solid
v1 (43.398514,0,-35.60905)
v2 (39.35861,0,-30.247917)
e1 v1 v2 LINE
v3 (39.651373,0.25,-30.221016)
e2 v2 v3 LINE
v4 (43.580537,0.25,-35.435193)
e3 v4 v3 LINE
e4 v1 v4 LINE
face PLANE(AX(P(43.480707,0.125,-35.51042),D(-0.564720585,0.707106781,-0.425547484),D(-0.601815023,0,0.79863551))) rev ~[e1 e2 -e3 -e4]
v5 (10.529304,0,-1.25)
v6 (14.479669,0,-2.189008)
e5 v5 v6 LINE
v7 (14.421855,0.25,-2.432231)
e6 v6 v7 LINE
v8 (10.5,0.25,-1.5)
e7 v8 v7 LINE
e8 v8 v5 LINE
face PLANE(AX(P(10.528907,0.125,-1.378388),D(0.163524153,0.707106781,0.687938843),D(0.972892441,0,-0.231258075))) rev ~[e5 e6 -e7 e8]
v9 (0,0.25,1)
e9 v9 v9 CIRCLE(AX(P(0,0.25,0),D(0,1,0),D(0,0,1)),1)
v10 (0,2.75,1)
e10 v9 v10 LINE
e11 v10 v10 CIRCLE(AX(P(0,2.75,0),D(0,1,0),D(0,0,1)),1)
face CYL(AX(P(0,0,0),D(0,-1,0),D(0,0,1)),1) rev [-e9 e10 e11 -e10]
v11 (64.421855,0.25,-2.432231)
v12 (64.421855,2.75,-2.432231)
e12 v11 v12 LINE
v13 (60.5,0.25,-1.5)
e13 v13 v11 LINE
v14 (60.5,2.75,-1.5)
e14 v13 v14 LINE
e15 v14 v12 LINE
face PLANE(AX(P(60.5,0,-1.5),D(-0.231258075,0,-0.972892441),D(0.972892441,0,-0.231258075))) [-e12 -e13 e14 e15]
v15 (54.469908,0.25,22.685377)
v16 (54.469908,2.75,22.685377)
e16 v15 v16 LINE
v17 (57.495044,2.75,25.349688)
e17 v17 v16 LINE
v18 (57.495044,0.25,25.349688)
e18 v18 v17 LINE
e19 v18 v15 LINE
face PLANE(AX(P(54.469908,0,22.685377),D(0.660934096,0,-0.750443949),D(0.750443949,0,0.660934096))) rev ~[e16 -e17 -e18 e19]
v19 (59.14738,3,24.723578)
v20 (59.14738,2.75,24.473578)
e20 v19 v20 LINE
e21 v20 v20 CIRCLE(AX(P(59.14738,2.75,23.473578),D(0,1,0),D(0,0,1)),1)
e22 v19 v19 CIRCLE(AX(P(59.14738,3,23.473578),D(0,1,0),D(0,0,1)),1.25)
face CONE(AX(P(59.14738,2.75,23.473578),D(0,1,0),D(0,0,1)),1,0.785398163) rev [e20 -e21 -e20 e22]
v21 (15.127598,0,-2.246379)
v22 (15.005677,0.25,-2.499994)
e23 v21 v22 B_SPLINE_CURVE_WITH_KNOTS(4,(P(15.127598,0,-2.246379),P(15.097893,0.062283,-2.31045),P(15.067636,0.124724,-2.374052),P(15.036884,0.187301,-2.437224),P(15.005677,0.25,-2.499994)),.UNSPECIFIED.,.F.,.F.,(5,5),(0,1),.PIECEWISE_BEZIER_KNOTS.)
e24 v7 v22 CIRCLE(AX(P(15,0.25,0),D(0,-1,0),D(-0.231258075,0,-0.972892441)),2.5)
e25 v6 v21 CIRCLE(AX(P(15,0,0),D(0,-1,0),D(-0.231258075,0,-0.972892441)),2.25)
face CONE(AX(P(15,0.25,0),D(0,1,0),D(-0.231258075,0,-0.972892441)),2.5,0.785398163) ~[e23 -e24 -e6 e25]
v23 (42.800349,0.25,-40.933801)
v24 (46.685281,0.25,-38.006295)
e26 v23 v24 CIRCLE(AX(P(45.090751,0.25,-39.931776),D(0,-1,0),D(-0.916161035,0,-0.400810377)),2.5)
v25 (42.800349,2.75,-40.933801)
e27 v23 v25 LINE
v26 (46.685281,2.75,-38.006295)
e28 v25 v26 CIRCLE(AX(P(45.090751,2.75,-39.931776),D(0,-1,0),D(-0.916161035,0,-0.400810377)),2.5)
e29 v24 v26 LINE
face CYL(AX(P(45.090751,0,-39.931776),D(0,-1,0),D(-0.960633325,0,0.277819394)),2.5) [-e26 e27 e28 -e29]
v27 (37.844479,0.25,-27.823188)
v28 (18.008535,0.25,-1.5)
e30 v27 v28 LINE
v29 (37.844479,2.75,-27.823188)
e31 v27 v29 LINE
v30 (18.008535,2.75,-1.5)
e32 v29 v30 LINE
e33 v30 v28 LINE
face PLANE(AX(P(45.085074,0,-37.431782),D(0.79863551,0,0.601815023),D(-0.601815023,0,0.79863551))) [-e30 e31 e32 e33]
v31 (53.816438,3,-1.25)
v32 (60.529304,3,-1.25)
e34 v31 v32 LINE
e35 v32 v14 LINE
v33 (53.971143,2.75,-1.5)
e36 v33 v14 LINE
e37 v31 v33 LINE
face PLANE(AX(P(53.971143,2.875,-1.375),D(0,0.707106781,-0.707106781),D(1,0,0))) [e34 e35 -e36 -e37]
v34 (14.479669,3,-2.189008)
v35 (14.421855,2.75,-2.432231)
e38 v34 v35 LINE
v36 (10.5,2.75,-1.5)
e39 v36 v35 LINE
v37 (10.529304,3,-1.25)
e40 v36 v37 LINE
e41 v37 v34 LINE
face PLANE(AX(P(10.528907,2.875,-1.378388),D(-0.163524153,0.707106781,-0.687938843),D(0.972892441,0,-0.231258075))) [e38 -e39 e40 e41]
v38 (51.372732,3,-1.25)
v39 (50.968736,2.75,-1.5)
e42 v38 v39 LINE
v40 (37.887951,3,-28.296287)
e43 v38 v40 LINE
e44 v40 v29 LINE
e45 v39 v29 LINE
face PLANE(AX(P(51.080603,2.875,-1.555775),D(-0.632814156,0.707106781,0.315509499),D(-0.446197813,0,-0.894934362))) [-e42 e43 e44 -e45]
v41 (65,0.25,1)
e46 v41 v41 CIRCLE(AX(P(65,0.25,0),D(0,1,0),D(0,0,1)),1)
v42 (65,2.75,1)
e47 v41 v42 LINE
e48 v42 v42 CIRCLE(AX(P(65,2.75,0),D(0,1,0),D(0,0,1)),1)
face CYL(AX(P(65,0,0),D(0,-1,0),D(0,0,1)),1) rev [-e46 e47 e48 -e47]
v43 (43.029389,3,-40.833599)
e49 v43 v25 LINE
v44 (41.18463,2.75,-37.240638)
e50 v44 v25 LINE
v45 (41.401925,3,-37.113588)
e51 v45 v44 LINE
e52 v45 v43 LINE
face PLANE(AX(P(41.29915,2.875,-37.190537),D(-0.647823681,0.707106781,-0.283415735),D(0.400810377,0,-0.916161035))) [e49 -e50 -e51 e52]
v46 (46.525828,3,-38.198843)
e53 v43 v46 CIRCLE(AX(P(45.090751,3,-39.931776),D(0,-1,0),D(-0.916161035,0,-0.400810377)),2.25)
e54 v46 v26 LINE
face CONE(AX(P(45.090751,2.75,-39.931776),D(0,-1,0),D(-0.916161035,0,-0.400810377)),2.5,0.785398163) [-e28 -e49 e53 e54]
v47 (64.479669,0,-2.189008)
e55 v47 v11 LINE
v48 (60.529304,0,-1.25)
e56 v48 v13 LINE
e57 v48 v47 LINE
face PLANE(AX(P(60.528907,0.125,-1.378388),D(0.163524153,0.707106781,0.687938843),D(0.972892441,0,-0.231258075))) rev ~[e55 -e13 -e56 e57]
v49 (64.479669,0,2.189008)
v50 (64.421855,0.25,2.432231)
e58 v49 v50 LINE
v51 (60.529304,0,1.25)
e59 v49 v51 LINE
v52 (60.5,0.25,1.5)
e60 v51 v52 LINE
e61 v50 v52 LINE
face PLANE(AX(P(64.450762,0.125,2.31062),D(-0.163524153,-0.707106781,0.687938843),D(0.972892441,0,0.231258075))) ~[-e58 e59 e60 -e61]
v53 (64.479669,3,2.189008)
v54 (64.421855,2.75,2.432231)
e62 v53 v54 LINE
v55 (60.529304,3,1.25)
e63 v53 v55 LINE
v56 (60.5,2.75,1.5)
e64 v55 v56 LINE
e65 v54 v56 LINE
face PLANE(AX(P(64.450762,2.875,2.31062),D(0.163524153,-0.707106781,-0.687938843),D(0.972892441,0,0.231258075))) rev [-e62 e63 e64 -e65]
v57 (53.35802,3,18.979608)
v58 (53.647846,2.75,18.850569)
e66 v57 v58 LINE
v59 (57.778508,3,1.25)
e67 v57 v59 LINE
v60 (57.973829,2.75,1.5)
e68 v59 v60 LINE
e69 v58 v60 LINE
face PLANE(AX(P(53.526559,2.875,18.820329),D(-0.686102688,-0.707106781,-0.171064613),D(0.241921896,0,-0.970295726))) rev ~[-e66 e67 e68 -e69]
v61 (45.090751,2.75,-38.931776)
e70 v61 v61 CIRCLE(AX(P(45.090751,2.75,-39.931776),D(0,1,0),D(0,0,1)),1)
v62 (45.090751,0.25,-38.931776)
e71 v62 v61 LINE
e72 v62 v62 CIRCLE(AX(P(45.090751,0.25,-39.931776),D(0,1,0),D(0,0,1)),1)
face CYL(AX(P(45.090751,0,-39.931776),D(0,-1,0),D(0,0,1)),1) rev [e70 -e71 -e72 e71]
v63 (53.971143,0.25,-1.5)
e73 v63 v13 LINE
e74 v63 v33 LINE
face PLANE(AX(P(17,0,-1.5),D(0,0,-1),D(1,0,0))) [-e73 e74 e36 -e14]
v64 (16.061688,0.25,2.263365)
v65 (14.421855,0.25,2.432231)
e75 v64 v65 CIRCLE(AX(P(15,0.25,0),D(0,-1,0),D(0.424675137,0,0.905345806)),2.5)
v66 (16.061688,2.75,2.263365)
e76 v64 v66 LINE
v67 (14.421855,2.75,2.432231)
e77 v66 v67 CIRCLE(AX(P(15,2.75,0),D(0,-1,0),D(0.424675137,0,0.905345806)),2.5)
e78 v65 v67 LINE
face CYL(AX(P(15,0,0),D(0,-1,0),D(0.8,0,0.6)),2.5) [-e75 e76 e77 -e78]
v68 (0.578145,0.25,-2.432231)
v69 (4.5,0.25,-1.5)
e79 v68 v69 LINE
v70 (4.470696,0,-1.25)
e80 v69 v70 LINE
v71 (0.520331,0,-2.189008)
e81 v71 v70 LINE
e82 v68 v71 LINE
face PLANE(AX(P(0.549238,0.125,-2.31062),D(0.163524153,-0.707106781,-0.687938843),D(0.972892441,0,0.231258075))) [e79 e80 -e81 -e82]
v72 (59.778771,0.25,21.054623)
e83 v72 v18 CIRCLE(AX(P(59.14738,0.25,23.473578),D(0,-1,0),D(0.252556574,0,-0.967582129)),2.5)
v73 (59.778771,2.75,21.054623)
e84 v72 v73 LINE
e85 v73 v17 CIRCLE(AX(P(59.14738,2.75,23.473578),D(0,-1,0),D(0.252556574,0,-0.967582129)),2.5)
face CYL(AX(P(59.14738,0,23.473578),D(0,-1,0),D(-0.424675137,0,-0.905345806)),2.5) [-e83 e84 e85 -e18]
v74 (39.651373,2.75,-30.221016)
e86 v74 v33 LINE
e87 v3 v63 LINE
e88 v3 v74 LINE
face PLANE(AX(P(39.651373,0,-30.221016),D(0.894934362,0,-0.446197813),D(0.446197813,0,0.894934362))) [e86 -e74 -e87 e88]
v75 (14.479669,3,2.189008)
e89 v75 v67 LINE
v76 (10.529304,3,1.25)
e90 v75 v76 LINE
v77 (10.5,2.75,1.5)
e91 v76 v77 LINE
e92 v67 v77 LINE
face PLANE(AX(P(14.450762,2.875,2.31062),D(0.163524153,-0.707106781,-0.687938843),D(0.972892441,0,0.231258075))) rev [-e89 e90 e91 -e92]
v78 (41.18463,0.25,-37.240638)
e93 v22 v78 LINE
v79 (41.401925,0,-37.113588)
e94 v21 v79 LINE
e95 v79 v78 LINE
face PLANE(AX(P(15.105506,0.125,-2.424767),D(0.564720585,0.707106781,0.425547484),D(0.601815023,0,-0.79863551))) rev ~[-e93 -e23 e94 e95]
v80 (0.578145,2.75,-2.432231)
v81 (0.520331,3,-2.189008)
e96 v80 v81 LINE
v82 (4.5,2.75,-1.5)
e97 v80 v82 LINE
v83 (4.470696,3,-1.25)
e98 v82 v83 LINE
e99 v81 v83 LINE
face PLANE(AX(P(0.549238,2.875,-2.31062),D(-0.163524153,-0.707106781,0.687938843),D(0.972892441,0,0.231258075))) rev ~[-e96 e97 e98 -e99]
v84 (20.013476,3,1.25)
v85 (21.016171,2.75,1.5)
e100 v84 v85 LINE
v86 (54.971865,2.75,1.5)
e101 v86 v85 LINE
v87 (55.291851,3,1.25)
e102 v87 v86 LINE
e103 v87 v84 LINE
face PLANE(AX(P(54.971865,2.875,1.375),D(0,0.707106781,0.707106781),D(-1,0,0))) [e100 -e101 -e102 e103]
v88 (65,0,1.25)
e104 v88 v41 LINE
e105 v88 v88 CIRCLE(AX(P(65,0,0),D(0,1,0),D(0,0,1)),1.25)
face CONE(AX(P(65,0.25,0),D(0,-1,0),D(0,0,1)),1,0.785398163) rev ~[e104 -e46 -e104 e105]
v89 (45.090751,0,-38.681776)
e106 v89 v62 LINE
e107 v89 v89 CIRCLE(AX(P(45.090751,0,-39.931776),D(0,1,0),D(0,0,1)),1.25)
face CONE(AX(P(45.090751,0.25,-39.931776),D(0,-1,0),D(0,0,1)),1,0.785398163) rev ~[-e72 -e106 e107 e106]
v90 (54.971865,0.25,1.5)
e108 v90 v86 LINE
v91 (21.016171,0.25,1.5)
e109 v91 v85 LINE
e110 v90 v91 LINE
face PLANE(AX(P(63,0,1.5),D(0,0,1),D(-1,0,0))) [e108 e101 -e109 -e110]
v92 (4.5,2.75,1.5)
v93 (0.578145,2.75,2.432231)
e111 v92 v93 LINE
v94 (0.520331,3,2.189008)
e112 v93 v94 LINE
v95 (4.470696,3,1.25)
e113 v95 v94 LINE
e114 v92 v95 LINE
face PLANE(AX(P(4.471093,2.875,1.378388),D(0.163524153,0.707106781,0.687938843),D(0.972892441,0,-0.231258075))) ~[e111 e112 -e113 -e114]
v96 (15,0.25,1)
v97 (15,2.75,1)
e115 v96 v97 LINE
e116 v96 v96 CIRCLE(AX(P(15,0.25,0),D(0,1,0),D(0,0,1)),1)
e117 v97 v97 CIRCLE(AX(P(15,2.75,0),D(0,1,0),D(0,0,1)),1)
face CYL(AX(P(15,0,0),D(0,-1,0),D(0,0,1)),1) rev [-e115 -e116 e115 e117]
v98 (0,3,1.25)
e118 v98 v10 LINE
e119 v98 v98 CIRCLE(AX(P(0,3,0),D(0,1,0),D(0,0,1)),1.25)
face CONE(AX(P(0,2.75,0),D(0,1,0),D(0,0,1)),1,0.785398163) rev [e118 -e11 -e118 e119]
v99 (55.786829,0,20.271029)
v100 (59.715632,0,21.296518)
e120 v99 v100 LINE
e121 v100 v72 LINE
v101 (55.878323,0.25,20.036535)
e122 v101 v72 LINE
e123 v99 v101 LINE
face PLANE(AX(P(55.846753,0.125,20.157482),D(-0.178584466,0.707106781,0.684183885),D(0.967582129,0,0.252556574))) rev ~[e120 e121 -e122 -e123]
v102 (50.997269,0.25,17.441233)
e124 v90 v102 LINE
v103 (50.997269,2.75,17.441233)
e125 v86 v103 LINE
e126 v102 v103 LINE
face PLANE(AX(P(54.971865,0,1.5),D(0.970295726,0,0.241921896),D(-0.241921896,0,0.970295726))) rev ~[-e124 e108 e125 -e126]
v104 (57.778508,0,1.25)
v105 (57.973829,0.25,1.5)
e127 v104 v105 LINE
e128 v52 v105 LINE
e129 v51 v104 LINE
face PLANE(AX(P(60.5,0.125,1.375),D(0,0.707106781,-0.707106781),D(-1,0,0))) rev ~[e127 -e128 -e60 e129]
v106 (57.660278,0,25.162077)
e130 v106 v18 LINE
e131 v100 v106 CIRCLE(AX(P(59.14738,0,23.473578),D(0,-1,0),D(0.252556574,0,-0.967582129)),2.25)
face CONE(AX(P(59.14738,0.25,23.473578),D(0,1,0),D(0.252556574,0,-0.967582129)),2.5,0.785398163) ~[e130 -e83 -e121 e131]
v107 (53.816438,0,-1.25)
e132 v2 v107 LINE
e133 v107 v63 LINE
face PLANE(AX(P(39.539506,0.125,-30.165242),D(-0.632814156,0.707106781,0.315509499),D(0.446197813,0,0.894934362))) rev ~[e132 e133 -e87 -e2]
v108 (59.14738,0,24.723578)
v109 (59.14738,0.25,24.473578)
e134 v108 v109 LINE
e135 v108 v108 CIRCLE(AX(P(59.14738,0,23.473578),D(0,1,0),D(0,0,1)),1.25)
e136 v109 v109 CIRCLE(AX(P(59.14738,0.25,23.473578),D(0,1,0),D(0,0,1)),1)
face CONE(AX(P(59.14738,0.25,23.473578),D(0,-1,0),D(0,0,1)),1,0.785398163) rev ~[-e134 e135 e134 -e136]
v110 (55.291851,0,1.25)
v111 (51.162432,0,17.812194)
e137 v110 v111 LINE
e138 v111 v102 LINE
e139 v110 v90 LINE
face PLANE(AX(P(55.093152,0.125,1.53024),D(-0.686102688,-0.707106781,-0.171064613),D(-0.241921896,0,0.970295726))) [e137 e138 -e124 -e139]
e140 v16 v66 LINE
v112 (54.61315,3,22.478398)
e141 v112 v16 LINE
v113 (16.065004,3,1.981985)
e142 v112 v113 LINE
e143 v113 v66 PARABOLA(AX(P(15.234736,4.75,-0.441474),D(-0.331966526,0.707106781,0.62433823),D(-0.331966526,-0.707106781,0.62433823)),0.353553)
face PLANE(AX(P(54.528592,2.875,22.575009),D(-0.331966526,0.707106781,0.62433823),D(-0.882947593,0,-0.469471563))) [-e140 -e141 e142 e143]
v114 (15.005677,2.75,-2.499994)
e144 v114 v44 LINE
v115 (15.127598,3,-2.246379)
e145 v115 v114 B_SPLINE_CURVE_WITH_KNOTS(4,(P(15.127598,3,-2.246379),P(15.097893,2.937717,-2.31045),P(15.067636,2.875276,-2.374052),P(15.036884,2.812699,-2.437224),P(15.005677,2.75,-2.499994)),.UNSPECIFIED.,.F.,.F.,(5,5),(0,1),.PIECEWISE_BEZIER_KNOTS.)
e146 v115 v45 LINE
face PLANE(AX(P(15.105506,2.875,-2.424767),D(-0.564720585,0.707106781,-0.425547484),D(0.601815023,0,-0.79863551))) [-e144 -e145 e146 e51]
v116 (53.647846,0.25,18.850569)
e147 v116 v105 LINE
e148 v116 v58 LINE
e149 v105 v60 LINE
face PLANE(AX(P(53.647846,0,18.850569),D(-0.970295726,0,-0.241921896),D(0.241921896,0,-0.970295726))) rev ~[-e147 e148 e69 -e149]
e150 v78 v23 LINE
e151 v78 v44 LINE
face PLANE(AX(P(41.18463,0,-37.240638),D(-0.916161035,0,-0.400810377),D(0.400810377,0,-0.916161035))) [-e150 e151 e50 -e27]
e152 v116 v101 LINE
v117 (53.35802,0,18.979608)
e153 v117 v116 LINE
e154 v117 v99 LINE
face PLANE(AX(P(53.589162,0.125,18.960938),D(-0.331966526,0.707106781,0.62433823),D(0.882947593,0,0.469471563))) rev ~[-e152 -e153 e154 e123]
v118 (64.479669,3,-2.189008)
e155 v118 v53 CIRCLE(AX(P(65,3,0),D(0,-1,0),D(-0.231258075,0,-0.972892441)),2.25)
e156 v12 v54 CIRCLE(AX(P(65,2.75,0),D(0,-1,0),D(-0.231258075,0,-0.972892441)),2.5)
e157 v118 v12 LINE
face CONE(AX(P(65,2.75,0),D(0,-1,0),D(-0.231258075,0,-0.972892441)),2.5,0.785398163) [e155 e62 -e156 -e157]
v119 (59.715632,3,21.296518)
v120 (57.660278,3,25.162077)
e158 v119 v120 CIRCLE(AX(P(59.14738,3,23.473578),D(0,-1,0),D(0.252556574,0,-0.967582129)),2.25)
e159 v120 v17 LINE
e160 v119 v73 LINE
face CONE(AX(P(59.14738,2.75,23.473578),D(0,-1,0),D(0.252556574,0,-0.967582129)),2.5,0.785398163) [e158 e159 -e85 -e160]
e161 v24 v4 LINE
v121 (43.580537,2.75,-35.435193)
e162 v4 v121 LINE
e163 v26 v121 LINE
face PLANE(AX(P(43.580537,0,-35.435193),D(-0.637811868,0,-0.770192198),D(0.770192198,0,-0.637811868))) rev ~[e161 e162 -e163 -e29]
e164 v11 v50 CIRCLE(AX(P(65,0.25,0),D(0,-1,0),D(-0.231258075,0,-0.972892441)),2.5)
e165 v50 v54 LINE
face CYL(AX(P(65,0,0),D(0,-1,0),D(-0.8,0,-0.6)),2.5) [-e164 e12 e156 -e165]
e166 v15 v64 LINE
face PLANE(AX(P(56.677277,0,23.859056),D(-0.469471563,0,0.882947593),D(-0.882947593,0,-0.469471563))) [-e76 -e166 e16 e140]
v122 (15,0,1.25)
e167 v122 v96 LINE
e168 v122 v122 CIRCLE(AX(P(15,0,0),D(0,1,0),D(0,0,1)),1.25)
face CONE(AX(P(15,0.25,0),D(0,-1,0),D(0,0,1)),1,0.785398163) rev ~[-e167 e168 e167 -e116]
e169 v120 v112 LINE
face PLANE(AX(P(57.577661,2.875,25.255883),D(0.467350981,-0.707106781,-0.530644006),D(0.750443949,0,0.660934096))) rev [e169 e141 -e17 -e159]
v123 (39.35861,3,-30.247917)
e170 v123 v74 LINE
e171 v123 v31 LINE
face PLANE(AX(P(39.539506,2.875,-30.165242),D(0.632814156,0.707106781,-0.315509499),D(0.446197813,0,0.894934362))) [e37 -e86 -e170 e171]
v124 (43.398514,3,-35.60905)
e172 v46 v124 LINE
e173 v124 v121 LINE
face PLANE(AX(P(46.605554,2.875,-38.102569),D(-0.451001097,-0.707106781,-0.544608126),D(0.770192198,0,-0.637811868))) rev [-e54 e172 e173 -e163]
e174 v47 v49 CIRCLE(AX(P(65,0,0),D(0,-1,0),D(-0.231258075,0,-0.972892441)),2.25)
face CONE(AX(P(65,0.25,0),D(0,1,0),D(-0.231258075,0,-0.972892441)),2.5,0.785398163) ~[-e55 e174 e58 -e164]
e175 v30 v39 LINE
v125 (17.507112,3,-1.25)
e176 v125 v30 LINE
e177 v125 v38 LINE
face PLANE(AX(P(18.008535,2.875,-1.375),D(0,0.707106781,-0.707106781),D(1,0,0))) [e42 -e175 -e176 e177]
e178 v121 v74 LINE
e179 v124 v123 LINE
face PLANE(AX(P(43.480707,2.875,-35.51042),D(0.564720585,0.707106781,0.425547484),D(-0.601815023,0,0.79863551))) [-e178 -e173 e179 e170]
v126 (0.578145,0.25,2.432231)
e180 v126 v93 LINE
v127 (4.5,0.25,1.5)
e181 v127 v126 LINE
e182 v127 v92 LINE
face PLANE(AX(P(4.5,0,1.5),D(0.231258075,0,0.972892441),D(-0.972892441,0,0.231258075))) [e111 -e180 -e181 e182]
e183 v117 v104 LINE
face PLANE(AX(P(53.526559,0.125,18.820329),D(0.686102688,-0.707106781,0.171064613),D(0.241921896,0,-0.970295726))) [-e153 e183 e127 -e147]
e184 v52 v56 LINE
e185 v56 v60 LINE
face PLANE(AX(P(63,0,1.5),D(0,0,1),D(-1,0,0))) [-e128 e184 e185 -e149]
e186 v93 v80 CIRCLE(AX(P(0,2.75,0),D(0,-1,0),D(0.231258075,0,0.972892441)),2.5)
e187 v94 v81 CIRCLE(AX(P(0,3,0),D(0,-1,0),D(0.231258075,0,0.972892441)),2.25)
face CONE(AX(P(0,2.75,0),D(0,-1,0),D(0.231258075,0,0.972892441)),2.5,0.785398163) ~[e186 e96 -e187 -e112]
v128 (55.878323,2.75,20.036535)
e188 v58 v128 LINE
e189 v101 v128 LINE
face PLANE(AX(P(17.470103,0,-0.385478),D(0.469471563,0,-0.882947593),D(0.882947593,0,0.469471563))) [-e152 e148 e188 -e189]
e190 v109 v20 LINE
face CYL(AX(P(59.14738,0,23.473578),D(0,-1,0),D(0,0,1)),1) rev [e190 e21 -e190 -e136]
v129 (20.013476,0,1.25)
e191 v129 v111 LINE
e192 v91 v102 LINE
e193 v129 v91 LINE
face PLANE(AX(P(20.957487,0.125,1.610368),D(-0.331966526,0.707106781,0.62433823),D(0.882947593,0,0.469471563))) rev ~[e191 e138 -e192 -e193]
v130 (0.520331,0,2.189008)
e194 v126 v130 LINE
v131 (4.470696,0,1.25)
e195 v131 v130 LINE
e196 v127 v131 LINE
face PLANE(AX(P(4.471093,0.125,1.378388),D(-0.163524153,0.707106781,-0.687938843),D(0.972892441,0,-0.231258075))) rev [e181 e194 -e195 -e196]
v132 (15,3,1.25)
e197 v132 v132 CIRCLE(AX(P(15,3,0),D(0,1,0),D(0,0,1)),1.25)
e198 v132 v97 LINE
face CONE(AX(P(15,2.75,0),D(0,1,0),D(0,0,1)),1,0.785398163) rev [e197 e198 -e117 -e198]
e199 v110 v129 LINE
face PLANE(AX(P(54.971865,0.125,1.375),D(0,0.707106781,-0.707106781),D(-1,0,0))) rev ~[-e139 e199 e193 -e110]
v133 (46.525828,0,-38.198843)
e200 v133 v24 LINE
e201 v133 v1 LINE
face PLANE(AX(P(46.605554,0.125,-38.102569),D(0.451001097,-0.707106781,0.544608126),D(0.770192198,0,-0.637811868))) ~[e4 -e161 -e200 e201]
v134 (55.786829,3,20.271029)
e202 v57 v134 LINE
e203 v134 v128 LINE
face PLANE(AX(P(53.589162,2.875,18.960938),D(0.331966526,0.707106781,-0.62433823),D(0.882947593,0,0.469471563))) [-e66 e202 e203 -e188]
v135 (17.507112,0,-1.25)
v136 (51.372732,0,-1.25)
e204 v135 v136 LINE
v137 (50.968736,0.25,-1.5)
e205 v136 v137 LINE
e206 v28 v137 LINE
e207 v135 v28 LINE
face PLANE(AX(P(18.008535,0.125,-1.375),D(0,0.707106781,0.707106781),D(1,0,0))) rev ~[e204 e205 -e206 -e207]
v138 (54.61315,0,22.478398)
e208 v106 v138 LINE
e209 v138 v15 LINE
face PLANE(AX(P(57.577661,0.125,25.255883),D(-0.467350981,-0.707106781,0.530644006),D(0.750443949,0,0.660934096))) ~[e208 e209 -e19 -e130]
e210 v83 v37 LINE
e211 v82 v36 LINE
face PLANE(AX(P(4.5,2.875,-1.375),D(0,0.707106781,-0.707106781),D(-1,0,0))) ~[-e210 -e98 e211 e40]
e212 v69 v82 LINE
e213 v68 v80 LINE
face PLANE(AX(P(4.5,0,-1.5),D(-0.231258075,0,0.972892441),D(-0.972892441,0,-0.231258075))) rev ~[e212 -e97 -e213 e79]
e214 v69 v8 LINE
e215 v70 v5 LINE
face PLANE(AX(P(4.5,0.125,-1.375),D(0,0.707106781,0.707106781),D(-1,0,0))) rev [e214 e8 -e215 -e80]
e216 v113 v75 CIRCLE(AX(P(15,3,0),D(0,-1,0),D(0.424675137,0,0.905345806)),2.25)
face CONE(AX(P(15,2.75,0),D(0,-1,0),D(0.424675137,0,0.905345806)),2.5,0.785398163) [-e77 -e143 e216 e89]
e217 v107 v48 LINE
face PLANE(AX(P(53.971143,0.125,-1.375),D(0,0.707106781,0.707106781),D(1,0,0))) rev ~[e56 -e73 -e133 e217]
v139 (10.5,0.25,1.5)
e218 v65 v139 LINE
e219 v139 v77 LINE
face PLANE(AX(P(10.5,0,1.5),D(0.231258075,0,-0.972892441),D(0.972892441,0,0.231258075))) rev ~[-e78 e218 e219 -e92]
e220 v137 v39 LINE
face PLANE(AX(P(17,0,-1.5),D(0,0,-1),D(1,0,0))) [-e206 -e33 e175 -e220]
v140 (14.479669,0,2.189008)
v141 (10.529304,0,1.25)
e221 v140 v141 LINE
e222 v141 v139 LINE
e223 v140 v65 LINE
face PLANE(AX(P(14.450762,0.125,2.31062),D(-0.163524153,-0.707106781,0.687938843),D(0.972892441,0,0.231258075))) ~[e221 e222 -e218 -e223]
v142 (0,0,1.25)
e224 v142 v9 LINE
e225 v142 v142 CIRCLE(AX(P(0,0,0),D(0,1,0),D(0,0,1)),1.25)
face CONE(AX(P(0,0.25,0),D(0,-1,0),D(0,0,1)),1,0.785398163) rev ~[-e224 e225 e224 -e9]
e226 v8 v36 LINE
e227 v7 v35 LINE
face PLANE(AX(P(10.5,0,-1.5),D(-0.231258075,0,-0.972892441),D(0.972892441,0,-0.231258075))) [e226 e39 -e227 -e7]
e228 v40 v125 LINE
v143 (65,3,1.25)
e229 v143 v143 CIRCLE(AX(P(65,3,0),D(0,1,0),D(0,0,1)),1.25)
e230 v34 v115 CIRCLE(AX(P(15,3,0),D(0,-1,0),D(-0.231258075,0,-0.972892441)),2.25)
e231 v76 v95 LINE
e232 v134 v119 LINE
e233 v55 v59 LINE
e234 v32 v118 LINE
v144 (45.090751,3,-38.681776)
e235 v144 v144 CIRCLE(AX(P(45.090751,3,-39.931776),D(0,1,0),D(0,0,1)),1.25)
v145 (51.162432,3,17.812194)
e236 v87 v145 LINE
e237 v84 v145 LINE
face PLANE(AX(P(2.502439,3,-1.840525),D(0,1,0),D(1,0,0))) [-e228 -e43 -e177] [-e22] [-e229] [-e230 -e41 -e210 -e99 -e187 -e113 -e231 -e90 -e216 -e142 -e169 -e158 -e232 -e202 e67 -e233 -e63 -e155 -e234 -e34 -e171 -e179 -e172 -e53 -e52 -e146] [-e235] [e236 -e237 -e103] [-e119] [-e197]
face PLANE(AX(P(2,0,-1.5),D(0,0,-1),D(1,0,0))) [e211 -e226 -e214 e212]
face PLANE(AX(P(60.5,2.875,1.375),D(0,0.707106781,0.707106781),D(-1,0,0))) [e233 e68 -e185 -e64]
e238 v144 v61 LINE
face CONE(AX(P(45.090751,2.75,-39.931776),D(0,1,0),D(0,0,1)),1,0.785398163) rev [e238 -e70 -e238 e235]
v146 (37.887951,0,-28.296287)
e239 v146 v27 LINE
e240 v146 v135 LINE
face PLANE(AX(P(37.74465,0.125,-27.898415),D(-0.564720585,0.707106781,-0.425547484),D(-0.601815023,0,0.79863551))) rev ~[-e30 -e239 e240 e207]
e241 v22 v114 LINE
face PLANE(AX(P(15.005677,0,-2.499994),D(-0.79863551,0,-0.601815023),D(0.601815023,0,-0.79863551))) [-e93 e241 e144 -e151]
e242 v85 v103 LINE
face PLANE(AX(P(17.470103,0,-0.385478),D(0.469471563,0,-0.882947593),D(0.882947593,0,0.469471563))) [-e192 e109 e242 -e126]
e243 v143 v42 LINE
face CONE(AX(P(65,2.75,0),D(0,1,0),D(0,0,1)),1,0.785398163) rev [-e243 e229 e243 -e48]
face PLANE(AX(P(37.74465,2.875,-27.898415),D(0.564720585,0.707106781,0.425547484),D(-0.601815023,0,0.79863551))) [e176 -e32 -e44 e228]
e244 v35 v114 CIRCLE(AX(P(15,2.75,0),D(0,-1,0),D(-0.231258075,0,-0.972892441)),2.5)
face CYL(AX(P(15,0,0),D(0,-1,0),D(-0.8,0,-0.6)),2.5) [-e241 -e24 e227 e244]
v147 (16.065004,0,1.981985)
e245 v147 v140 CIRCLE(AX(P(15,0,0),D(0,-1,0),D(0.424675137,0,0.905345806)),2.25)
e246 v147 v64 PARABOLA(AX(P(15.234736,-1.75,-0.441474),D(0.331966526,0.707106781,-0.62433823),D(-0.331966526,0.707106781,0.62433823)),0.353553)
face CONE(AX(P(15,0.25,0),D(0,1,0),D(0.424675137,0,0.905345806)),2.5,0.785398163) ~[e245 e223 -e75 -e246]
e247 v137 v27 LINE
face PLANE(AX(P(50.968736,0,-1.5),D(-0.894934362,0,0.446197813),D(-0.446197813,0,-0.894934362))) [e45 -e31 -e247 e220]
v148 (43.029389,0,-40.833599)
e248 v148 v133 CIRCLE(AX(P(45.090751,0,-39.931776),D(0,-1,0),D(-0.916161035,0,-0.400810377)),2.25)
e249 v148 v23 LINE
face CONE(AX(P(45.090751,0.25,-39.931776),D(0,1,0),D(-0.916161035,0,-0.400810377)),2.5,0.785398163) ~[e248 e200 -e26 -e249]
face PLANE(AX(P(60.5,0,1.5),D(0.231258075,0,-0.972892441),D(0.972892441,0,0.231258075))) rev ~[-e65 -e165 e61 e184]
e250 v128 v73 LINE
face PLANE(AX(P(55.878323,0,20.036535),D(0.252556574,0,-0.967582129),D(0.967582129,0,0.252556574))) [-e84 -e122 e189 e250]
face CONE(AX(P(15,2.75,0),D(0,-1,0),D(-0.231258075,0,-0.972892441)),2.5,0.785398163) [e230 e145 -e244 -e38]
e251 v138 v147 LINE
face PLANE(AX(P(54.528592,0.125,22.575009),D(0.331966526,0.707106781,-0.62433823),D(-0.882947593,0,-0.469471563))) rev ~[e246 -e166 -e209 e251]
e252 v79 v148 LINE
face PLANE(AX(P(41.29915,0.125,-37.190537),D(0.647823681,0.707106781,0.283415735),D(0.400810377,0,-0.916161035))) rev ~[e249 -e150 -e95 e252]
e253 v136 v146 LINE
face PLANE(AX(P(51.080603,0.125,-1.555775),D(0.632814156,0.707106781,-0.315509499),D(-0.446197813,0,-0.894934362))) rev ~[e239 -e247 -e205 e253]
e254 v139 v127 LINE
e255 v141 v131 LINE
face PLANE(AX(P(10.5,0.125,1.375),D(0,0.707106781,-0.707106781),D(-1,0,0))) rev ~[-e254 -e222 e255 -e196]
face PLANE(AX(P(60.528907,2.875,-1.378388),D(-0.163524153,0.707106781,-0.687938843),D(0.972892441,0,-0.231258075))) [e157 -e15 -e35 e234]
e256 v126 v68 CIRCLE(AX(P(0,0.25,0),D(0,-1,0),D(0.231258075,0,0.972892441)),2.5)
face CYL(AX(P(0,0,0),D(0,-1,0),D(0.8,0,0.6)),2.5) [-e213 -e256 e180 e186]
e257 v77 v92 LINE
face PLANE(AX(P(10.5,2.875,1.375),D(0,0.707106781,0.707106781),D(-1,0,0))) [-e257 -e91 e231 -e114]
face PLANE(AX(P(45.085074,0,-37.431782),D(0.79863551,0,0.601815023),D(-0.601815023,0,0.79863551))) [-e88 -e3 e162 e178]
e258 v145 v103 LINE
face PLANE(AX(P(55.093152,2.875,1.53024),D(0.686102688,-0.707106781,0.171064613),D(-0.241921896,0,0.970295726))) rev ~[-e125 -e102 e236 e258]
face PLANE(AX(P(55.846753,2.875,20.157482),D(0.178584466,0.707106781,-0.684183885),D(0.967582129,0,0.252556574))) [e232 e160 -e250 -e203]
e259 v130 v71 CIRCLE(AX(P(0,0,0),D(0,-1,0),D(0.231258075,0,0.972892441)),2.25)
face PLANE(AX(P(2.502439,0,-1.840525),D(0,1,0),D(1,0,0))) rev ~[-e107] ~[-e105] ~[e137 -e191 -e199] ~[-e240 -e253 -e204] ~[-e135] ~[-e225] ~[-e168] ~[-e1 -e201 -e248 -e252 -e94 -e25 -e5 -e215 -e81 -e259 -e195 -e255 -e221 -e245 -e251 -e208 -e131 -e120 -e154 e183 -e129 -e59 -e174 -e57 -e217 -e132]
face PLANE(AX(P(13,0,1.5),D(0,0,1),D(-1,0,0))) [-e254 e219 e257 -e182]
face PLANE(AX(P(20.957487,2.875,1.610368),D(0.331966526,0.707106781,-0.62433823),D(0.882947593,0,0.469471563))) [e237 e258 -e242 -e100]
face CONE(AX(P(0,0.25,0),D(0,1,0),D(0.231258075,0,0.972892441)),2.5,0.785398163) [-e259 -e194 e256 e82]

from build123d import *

# Parameters (mm, degrees)
SKETCH_1_R      = 1
EXTRUDE_2_DEPTH = 3
SKETCH_3_R      = 1
EXTRUDE_3_DEPTH = 3
EXTRUDE_4_DEPTH = 3
EXTRUDE_5_DEPTH = 3
EXTRUDE_6_DEPTH = 3
CHAMFER_1_SIZE  = 0.25


with BuildPart() as part:
    # 草图1 → 凸台-拉伸2 (new body)
    with BuildSketch(Plane(origin=(0, 0, 0), x_dir=(1, 0, 0), z_dir=(0, 1, 0))):
        with BuildLine():
            Line((2, 1.5), (13, 1.5))
            ThreePointArc((13, 1.5), (15, 2.5), (17, 1.5))
            Line((17, 1.5), (63, 1.5))
            ThreePointArc((63, 1.5), (67.5, 0), (63, -1.5))
            Line((63, -1.5), (17, -1.5))
            ThreePointArc((17, -1.5), (15, -2.5), (13, -1.5))
            Line((13, -1.5), (2, -1.5))
            ThreePointArc((2, -1.5), (-2.5, 0), (2, 1.5))
        make_face()
        with Locations(Location((0, 0, 0), (0, 0, 270))):
            Circle(SKETCH_1_R, mode=Mode.SUBTRACT)
        with Locations(Location((15, 0, 0), (0, 0, 270))):
            Circle(SKETCH_1_R, mode=Mode.SUBTRACT)
        with Locations(Location((65, 0, 0), (0, 0, 270))):
            Circle(SKETCH_1_R, mode=Mode.SUBTRACT)
    extrude(amount=EXTRUDE_2_DEPTH)

    # 草图3 → 凸台-拉伸3 (add)
    with BuildSketch(Plane(origin=(0, 0, 0), x_dir=(1, 0, 0), z_dir=(0, 1, 0))):
        with BuildLine():
            Line((15.005676781, 2.499993555), (42.689167846, 39.237227017))
            ThreePointArc((42.689167846, 39.237227017), (46.595288715, 41.928364277), (45.085074376, 37.431781948))
            Line((45.085074376, 37.431781948), (17.401583311, 0.694548485))
            ThreePointArc((17.401583311, 0.694548485), (17.440740018, 0.541099035), (17.47010253, 0.385478264))
            Line((17.47010253, 0.385478264), (58.085691801, -21.210213624))
            ThreePointArc((58.085691801, -21.210213624), (61.354748625, -24.647257046), (56.677277113, -23.859056403))
            Line((56.677277113, -23.859056403), (16.061687842, -2.263364515))
            ThreePointArc((16.061687842, -2.263364515), (12.559259982, -0.541099035), (15.005676781, 2.499993555))
        make_face()
        with Locations(Location((59.147379643, -23.473578139, 0), (0, 0, 270))):
            Circle(SKETCH_3_R, mode=Mode.SUBTRACT)
        with Locations(Location((45.090751158, 39.931775502, 0), (0, 0, 270))):
            Circle(SKETCH_3_R, mode=Mode.SUBTRACT)
        with Locations(Location((15, 0, 0), (0, 0, 270))):
            Circle(SKETCH_3_R, mode=Mode.SUBTRACT)
    extrude(amount=EXTRUDE_3_DEPTH)

    # 草图5 → 凸台-拉伸4 (add)
    with BuildSketch(Plane(origin=(0, 0, 0), x_dir=(1, 0, 0), z_dir=(0, 1, 0))):
        Polygon((50.968736425, 1.5), (37.844479209, 27.823187626), (39.651372694, 30.221016268), (53.97114317, 1.5), align=None)
    extrude(amount=EXTRUDE_4_DEPTH)

    # 草图6 → 凸台-拉伸5 (add)
    with BuildSketch(Plane(origin=(0, 0, 0), x_dir=(1, 0, 0), z_dir=(0, 1, 0))):
        Polygon((54.971865105, -1.5), (50.997269421, -17.441232589), (53.647846432, -18.850569385), (57.973829245, -1.5), align=None)
    extrude(amount=EXTRUDE_5_DEPTH)

    # 草图7 → 凸台-拉伸6 (add)
    with BuildSketch(Plane(origin=(0, 0, 0), x_dir=(1, 0, 0), z_dir=(0, 1, 0))):
        with BuildLine():
            Line((4.5, 1.5), (0.578145188, 2.432231104))
            ThreePointArc((0.578145188, 2.432231104), (1.370755945, 2.090700395), (2, 1.5))
            Line((2, 1.5), (4.5, 1.5))
        make_face()
        with BuildLine():
            Line((4.5, -1.5), (0.578145188, -2.432231104))
            ThreePointArc((0.578145188, -2.432231104), (1.370755945, -2.090700395), (2, -1.5))
            Line((2, -1.5), (4.5, -1.5))
        make_face()
        with BuildLine():
            Line((10.5, 1.5), (14.421854812, 2.432231104))
            ThreePointArc((14.421854812, 2.432231104), (13.629244055, 2.090700395), (13, 1.5))
            Line((13, 1.5), (10.5, 1.5))
        make_face()
        with BuildLine():
            Line((10.5, -1.5), (14.421854812, -2.432231104))
            ThreePointArc((14.421854812, -2.432231104), (13.629244055, -2.090700395), (13, -1.5))
            Line((13, -1.5), (10.5, -1.5))
        make_face()
        with BuildLine():
            Line((41.184630288, 37.240638242), (42.80034857, 40.933801444))
            ThreePointArc((42.80034857, 40.933801444), (42.596102061, 40.095256036), (42.689167846, 39.237227017))
            Line((42.689167846, 39.237227017), (41.184630288, 37.240638242))
        make_face()
        with BuildLine():
            Line((43.580536818, 35.435193172), (46.685280826, 38.006295008))
            ThreePointArc((46.685280826, 38.006295008), (45.935517213, 37.578826223), (45.085074376, 37.431781948))
            Line((45.085074376, 37.431781948), (43.580536818, 35.435193172))
        make_face()
        with BuildLine():
            Line((60.5, -1.5), (64.421854812, -2.432231104))
            ThreePointArc((64.421854812, -2.432231104), (63.629244055, -2.090700395), (63, -1.5))
            Line((63, -1.5), (60.5, -1.5))
        make_face()
        with BuildLine():
            Line((60.5, 1.5), (64.421854812, 2.432231104))
            ThreePointArc((64.421854812, 2.432231104), (63.629244055, 2.090700395), (63, 1.5))
            Line((63, 1.5), (60.5, 1.5))
        make_face()
        with BuildLine():
            Line((55.878322819, -20.036534717), (59.778771079, -21.054622816))
            ThreePointArc((59.778771079, -21.054622816), (58.918598363, -20.984068323), (58.085691801, -21.210213624))
            Line((58.085691801, -21.210213624), (55.878322819, -20.036534717))
        make_face()
        with BuildLine():
            Line((54.469908131, -22.685377496), (57.495044404, -25.349688013))
            ThreePointArc((57.495044404, -25.349688013), (56.9555496, -24.676026085), (56.677277113, -23.859056403))
            Line((56.677277113, -23.859056403), (54.469908131, -22.685377496))
        make_face()
    extrude(amount=EXTRUDE_6_DEPTH)

    # 倒角1
    chamfer_1_edges = [part.edges().sort_by_distance(p)[0] for p in [
        (57.235571585, 0, -1.5),
        (57.235571585, 3, -1.5),
        (62.460927406, 0, -1.966115552),
        (62.460927406, 3, -1.966115552),
        (46.595288715, 3, -41.928364277),
        (46.595288715, 0, -41.928364277),
        (45.132908822, 0, -36.72074409),
        (45.132908822, 3, -36.72074409),
        (-2.5, 0, 0),
        (-2.5, 3, 0),
        (2.539072594, 0, -1.966115552),
        (2.539072594, 3, -1.966115552),
        (28.095153535, 3, -19.870315898),
        (28.095153535, 0, -19.870315898),
        (41.992489429, 0, -39.087219843),
        (41.992489429, 3, -39.087219843),
        (7.5, 0, 1.5),
        (7.5, 3, 1.5),
        (2.539072594, 0, 1.966115552),
        (2.539072594, 3, 1.966115552),
        (7.5, 0, -1.5),
        (7.5, 3, -1.5),
        (12.460927406, 0, -1.966115552),
        (12.460927406, 3, -1.966115552),
        (15.256090523, 0, 2.486848939),
        (15.256090523, 3, 2.486848939),
        (12.460927406, 0, 1.966115552),
        (12.460927406, 3, 1.966115552),
        (61.354748625, 3, 24.647257046),
        (61.354748625, 0, 24.647257046),
        (55.982476267, 0, 24.017532754),
        (55.982476267, 3, 24.017532754),
        (54.763084626, 0, 19.443552051),
        (54.763084626, 3, 19.443552051),
        (57.828546949, 0, 20.545578767),
        (57.828546949, 3, 20.545578767),
        (67.5, 0, 0),
        (67.5, 3, 0),
        (62.460927406, 0, 1.966115552),
        (62.460927406, 3, 1.966115552),
        (0, 0, -1),
        (0, 3, -1),
        (15, 0, -1),
        (15, 3, -1),
        (65, 0, -1),
        (65, 3, -1),
        (14.71176753, 0, -2.483328823),
        (14.71176753, 3, -2.483328823),
        (37.994018253, 0, 1.5),
        (37.994018253, 3, 1.5),
        (27.926506886, 0, -14.661593813),
        (59.147379643, 0, 22.473578139),
        (45.090751158, 0, -40.931775502),
        (35.265797986, 3, 12.474371005),
        (27.926506886, 3, -14.661593813),
        (45.090751158, 3, -40.931775502),
        (59.147379643, 3, 22.473578139),
        (35.265797986, 0, 12.474371005),
        (41.615954756, 3, -32.82810472),
        (41.615954756, 0, -32.82810472),
        (34.488635494, 0, -1.5),
        (34.488635494, 3, -1.5),
        (46.811257932, 0, -15.860508134),
        (44.406607817, 0, -14.661593813),
        (44.406607817, 3, -14.661593813),
        (46.811257932, 3, -15.860508134),
        (36.006720411, 0, 9.470616295),
        (36.006720411, 3, 9.470616295),
        (59.236914623, 0, 1.5),
        (59.236914623, 3, 1.5),
        (55.810837839, 0, 10.175284693),
        (52.984567263, 0, 9.470616295),
        (52.984567263, 3, 9.470616295),
        (55.810837839, 3, 10.175284693),
    ]]
    chamfer(chamfer_1_edges, length=CHAMFER_1_SIZE)


solid = part.part
